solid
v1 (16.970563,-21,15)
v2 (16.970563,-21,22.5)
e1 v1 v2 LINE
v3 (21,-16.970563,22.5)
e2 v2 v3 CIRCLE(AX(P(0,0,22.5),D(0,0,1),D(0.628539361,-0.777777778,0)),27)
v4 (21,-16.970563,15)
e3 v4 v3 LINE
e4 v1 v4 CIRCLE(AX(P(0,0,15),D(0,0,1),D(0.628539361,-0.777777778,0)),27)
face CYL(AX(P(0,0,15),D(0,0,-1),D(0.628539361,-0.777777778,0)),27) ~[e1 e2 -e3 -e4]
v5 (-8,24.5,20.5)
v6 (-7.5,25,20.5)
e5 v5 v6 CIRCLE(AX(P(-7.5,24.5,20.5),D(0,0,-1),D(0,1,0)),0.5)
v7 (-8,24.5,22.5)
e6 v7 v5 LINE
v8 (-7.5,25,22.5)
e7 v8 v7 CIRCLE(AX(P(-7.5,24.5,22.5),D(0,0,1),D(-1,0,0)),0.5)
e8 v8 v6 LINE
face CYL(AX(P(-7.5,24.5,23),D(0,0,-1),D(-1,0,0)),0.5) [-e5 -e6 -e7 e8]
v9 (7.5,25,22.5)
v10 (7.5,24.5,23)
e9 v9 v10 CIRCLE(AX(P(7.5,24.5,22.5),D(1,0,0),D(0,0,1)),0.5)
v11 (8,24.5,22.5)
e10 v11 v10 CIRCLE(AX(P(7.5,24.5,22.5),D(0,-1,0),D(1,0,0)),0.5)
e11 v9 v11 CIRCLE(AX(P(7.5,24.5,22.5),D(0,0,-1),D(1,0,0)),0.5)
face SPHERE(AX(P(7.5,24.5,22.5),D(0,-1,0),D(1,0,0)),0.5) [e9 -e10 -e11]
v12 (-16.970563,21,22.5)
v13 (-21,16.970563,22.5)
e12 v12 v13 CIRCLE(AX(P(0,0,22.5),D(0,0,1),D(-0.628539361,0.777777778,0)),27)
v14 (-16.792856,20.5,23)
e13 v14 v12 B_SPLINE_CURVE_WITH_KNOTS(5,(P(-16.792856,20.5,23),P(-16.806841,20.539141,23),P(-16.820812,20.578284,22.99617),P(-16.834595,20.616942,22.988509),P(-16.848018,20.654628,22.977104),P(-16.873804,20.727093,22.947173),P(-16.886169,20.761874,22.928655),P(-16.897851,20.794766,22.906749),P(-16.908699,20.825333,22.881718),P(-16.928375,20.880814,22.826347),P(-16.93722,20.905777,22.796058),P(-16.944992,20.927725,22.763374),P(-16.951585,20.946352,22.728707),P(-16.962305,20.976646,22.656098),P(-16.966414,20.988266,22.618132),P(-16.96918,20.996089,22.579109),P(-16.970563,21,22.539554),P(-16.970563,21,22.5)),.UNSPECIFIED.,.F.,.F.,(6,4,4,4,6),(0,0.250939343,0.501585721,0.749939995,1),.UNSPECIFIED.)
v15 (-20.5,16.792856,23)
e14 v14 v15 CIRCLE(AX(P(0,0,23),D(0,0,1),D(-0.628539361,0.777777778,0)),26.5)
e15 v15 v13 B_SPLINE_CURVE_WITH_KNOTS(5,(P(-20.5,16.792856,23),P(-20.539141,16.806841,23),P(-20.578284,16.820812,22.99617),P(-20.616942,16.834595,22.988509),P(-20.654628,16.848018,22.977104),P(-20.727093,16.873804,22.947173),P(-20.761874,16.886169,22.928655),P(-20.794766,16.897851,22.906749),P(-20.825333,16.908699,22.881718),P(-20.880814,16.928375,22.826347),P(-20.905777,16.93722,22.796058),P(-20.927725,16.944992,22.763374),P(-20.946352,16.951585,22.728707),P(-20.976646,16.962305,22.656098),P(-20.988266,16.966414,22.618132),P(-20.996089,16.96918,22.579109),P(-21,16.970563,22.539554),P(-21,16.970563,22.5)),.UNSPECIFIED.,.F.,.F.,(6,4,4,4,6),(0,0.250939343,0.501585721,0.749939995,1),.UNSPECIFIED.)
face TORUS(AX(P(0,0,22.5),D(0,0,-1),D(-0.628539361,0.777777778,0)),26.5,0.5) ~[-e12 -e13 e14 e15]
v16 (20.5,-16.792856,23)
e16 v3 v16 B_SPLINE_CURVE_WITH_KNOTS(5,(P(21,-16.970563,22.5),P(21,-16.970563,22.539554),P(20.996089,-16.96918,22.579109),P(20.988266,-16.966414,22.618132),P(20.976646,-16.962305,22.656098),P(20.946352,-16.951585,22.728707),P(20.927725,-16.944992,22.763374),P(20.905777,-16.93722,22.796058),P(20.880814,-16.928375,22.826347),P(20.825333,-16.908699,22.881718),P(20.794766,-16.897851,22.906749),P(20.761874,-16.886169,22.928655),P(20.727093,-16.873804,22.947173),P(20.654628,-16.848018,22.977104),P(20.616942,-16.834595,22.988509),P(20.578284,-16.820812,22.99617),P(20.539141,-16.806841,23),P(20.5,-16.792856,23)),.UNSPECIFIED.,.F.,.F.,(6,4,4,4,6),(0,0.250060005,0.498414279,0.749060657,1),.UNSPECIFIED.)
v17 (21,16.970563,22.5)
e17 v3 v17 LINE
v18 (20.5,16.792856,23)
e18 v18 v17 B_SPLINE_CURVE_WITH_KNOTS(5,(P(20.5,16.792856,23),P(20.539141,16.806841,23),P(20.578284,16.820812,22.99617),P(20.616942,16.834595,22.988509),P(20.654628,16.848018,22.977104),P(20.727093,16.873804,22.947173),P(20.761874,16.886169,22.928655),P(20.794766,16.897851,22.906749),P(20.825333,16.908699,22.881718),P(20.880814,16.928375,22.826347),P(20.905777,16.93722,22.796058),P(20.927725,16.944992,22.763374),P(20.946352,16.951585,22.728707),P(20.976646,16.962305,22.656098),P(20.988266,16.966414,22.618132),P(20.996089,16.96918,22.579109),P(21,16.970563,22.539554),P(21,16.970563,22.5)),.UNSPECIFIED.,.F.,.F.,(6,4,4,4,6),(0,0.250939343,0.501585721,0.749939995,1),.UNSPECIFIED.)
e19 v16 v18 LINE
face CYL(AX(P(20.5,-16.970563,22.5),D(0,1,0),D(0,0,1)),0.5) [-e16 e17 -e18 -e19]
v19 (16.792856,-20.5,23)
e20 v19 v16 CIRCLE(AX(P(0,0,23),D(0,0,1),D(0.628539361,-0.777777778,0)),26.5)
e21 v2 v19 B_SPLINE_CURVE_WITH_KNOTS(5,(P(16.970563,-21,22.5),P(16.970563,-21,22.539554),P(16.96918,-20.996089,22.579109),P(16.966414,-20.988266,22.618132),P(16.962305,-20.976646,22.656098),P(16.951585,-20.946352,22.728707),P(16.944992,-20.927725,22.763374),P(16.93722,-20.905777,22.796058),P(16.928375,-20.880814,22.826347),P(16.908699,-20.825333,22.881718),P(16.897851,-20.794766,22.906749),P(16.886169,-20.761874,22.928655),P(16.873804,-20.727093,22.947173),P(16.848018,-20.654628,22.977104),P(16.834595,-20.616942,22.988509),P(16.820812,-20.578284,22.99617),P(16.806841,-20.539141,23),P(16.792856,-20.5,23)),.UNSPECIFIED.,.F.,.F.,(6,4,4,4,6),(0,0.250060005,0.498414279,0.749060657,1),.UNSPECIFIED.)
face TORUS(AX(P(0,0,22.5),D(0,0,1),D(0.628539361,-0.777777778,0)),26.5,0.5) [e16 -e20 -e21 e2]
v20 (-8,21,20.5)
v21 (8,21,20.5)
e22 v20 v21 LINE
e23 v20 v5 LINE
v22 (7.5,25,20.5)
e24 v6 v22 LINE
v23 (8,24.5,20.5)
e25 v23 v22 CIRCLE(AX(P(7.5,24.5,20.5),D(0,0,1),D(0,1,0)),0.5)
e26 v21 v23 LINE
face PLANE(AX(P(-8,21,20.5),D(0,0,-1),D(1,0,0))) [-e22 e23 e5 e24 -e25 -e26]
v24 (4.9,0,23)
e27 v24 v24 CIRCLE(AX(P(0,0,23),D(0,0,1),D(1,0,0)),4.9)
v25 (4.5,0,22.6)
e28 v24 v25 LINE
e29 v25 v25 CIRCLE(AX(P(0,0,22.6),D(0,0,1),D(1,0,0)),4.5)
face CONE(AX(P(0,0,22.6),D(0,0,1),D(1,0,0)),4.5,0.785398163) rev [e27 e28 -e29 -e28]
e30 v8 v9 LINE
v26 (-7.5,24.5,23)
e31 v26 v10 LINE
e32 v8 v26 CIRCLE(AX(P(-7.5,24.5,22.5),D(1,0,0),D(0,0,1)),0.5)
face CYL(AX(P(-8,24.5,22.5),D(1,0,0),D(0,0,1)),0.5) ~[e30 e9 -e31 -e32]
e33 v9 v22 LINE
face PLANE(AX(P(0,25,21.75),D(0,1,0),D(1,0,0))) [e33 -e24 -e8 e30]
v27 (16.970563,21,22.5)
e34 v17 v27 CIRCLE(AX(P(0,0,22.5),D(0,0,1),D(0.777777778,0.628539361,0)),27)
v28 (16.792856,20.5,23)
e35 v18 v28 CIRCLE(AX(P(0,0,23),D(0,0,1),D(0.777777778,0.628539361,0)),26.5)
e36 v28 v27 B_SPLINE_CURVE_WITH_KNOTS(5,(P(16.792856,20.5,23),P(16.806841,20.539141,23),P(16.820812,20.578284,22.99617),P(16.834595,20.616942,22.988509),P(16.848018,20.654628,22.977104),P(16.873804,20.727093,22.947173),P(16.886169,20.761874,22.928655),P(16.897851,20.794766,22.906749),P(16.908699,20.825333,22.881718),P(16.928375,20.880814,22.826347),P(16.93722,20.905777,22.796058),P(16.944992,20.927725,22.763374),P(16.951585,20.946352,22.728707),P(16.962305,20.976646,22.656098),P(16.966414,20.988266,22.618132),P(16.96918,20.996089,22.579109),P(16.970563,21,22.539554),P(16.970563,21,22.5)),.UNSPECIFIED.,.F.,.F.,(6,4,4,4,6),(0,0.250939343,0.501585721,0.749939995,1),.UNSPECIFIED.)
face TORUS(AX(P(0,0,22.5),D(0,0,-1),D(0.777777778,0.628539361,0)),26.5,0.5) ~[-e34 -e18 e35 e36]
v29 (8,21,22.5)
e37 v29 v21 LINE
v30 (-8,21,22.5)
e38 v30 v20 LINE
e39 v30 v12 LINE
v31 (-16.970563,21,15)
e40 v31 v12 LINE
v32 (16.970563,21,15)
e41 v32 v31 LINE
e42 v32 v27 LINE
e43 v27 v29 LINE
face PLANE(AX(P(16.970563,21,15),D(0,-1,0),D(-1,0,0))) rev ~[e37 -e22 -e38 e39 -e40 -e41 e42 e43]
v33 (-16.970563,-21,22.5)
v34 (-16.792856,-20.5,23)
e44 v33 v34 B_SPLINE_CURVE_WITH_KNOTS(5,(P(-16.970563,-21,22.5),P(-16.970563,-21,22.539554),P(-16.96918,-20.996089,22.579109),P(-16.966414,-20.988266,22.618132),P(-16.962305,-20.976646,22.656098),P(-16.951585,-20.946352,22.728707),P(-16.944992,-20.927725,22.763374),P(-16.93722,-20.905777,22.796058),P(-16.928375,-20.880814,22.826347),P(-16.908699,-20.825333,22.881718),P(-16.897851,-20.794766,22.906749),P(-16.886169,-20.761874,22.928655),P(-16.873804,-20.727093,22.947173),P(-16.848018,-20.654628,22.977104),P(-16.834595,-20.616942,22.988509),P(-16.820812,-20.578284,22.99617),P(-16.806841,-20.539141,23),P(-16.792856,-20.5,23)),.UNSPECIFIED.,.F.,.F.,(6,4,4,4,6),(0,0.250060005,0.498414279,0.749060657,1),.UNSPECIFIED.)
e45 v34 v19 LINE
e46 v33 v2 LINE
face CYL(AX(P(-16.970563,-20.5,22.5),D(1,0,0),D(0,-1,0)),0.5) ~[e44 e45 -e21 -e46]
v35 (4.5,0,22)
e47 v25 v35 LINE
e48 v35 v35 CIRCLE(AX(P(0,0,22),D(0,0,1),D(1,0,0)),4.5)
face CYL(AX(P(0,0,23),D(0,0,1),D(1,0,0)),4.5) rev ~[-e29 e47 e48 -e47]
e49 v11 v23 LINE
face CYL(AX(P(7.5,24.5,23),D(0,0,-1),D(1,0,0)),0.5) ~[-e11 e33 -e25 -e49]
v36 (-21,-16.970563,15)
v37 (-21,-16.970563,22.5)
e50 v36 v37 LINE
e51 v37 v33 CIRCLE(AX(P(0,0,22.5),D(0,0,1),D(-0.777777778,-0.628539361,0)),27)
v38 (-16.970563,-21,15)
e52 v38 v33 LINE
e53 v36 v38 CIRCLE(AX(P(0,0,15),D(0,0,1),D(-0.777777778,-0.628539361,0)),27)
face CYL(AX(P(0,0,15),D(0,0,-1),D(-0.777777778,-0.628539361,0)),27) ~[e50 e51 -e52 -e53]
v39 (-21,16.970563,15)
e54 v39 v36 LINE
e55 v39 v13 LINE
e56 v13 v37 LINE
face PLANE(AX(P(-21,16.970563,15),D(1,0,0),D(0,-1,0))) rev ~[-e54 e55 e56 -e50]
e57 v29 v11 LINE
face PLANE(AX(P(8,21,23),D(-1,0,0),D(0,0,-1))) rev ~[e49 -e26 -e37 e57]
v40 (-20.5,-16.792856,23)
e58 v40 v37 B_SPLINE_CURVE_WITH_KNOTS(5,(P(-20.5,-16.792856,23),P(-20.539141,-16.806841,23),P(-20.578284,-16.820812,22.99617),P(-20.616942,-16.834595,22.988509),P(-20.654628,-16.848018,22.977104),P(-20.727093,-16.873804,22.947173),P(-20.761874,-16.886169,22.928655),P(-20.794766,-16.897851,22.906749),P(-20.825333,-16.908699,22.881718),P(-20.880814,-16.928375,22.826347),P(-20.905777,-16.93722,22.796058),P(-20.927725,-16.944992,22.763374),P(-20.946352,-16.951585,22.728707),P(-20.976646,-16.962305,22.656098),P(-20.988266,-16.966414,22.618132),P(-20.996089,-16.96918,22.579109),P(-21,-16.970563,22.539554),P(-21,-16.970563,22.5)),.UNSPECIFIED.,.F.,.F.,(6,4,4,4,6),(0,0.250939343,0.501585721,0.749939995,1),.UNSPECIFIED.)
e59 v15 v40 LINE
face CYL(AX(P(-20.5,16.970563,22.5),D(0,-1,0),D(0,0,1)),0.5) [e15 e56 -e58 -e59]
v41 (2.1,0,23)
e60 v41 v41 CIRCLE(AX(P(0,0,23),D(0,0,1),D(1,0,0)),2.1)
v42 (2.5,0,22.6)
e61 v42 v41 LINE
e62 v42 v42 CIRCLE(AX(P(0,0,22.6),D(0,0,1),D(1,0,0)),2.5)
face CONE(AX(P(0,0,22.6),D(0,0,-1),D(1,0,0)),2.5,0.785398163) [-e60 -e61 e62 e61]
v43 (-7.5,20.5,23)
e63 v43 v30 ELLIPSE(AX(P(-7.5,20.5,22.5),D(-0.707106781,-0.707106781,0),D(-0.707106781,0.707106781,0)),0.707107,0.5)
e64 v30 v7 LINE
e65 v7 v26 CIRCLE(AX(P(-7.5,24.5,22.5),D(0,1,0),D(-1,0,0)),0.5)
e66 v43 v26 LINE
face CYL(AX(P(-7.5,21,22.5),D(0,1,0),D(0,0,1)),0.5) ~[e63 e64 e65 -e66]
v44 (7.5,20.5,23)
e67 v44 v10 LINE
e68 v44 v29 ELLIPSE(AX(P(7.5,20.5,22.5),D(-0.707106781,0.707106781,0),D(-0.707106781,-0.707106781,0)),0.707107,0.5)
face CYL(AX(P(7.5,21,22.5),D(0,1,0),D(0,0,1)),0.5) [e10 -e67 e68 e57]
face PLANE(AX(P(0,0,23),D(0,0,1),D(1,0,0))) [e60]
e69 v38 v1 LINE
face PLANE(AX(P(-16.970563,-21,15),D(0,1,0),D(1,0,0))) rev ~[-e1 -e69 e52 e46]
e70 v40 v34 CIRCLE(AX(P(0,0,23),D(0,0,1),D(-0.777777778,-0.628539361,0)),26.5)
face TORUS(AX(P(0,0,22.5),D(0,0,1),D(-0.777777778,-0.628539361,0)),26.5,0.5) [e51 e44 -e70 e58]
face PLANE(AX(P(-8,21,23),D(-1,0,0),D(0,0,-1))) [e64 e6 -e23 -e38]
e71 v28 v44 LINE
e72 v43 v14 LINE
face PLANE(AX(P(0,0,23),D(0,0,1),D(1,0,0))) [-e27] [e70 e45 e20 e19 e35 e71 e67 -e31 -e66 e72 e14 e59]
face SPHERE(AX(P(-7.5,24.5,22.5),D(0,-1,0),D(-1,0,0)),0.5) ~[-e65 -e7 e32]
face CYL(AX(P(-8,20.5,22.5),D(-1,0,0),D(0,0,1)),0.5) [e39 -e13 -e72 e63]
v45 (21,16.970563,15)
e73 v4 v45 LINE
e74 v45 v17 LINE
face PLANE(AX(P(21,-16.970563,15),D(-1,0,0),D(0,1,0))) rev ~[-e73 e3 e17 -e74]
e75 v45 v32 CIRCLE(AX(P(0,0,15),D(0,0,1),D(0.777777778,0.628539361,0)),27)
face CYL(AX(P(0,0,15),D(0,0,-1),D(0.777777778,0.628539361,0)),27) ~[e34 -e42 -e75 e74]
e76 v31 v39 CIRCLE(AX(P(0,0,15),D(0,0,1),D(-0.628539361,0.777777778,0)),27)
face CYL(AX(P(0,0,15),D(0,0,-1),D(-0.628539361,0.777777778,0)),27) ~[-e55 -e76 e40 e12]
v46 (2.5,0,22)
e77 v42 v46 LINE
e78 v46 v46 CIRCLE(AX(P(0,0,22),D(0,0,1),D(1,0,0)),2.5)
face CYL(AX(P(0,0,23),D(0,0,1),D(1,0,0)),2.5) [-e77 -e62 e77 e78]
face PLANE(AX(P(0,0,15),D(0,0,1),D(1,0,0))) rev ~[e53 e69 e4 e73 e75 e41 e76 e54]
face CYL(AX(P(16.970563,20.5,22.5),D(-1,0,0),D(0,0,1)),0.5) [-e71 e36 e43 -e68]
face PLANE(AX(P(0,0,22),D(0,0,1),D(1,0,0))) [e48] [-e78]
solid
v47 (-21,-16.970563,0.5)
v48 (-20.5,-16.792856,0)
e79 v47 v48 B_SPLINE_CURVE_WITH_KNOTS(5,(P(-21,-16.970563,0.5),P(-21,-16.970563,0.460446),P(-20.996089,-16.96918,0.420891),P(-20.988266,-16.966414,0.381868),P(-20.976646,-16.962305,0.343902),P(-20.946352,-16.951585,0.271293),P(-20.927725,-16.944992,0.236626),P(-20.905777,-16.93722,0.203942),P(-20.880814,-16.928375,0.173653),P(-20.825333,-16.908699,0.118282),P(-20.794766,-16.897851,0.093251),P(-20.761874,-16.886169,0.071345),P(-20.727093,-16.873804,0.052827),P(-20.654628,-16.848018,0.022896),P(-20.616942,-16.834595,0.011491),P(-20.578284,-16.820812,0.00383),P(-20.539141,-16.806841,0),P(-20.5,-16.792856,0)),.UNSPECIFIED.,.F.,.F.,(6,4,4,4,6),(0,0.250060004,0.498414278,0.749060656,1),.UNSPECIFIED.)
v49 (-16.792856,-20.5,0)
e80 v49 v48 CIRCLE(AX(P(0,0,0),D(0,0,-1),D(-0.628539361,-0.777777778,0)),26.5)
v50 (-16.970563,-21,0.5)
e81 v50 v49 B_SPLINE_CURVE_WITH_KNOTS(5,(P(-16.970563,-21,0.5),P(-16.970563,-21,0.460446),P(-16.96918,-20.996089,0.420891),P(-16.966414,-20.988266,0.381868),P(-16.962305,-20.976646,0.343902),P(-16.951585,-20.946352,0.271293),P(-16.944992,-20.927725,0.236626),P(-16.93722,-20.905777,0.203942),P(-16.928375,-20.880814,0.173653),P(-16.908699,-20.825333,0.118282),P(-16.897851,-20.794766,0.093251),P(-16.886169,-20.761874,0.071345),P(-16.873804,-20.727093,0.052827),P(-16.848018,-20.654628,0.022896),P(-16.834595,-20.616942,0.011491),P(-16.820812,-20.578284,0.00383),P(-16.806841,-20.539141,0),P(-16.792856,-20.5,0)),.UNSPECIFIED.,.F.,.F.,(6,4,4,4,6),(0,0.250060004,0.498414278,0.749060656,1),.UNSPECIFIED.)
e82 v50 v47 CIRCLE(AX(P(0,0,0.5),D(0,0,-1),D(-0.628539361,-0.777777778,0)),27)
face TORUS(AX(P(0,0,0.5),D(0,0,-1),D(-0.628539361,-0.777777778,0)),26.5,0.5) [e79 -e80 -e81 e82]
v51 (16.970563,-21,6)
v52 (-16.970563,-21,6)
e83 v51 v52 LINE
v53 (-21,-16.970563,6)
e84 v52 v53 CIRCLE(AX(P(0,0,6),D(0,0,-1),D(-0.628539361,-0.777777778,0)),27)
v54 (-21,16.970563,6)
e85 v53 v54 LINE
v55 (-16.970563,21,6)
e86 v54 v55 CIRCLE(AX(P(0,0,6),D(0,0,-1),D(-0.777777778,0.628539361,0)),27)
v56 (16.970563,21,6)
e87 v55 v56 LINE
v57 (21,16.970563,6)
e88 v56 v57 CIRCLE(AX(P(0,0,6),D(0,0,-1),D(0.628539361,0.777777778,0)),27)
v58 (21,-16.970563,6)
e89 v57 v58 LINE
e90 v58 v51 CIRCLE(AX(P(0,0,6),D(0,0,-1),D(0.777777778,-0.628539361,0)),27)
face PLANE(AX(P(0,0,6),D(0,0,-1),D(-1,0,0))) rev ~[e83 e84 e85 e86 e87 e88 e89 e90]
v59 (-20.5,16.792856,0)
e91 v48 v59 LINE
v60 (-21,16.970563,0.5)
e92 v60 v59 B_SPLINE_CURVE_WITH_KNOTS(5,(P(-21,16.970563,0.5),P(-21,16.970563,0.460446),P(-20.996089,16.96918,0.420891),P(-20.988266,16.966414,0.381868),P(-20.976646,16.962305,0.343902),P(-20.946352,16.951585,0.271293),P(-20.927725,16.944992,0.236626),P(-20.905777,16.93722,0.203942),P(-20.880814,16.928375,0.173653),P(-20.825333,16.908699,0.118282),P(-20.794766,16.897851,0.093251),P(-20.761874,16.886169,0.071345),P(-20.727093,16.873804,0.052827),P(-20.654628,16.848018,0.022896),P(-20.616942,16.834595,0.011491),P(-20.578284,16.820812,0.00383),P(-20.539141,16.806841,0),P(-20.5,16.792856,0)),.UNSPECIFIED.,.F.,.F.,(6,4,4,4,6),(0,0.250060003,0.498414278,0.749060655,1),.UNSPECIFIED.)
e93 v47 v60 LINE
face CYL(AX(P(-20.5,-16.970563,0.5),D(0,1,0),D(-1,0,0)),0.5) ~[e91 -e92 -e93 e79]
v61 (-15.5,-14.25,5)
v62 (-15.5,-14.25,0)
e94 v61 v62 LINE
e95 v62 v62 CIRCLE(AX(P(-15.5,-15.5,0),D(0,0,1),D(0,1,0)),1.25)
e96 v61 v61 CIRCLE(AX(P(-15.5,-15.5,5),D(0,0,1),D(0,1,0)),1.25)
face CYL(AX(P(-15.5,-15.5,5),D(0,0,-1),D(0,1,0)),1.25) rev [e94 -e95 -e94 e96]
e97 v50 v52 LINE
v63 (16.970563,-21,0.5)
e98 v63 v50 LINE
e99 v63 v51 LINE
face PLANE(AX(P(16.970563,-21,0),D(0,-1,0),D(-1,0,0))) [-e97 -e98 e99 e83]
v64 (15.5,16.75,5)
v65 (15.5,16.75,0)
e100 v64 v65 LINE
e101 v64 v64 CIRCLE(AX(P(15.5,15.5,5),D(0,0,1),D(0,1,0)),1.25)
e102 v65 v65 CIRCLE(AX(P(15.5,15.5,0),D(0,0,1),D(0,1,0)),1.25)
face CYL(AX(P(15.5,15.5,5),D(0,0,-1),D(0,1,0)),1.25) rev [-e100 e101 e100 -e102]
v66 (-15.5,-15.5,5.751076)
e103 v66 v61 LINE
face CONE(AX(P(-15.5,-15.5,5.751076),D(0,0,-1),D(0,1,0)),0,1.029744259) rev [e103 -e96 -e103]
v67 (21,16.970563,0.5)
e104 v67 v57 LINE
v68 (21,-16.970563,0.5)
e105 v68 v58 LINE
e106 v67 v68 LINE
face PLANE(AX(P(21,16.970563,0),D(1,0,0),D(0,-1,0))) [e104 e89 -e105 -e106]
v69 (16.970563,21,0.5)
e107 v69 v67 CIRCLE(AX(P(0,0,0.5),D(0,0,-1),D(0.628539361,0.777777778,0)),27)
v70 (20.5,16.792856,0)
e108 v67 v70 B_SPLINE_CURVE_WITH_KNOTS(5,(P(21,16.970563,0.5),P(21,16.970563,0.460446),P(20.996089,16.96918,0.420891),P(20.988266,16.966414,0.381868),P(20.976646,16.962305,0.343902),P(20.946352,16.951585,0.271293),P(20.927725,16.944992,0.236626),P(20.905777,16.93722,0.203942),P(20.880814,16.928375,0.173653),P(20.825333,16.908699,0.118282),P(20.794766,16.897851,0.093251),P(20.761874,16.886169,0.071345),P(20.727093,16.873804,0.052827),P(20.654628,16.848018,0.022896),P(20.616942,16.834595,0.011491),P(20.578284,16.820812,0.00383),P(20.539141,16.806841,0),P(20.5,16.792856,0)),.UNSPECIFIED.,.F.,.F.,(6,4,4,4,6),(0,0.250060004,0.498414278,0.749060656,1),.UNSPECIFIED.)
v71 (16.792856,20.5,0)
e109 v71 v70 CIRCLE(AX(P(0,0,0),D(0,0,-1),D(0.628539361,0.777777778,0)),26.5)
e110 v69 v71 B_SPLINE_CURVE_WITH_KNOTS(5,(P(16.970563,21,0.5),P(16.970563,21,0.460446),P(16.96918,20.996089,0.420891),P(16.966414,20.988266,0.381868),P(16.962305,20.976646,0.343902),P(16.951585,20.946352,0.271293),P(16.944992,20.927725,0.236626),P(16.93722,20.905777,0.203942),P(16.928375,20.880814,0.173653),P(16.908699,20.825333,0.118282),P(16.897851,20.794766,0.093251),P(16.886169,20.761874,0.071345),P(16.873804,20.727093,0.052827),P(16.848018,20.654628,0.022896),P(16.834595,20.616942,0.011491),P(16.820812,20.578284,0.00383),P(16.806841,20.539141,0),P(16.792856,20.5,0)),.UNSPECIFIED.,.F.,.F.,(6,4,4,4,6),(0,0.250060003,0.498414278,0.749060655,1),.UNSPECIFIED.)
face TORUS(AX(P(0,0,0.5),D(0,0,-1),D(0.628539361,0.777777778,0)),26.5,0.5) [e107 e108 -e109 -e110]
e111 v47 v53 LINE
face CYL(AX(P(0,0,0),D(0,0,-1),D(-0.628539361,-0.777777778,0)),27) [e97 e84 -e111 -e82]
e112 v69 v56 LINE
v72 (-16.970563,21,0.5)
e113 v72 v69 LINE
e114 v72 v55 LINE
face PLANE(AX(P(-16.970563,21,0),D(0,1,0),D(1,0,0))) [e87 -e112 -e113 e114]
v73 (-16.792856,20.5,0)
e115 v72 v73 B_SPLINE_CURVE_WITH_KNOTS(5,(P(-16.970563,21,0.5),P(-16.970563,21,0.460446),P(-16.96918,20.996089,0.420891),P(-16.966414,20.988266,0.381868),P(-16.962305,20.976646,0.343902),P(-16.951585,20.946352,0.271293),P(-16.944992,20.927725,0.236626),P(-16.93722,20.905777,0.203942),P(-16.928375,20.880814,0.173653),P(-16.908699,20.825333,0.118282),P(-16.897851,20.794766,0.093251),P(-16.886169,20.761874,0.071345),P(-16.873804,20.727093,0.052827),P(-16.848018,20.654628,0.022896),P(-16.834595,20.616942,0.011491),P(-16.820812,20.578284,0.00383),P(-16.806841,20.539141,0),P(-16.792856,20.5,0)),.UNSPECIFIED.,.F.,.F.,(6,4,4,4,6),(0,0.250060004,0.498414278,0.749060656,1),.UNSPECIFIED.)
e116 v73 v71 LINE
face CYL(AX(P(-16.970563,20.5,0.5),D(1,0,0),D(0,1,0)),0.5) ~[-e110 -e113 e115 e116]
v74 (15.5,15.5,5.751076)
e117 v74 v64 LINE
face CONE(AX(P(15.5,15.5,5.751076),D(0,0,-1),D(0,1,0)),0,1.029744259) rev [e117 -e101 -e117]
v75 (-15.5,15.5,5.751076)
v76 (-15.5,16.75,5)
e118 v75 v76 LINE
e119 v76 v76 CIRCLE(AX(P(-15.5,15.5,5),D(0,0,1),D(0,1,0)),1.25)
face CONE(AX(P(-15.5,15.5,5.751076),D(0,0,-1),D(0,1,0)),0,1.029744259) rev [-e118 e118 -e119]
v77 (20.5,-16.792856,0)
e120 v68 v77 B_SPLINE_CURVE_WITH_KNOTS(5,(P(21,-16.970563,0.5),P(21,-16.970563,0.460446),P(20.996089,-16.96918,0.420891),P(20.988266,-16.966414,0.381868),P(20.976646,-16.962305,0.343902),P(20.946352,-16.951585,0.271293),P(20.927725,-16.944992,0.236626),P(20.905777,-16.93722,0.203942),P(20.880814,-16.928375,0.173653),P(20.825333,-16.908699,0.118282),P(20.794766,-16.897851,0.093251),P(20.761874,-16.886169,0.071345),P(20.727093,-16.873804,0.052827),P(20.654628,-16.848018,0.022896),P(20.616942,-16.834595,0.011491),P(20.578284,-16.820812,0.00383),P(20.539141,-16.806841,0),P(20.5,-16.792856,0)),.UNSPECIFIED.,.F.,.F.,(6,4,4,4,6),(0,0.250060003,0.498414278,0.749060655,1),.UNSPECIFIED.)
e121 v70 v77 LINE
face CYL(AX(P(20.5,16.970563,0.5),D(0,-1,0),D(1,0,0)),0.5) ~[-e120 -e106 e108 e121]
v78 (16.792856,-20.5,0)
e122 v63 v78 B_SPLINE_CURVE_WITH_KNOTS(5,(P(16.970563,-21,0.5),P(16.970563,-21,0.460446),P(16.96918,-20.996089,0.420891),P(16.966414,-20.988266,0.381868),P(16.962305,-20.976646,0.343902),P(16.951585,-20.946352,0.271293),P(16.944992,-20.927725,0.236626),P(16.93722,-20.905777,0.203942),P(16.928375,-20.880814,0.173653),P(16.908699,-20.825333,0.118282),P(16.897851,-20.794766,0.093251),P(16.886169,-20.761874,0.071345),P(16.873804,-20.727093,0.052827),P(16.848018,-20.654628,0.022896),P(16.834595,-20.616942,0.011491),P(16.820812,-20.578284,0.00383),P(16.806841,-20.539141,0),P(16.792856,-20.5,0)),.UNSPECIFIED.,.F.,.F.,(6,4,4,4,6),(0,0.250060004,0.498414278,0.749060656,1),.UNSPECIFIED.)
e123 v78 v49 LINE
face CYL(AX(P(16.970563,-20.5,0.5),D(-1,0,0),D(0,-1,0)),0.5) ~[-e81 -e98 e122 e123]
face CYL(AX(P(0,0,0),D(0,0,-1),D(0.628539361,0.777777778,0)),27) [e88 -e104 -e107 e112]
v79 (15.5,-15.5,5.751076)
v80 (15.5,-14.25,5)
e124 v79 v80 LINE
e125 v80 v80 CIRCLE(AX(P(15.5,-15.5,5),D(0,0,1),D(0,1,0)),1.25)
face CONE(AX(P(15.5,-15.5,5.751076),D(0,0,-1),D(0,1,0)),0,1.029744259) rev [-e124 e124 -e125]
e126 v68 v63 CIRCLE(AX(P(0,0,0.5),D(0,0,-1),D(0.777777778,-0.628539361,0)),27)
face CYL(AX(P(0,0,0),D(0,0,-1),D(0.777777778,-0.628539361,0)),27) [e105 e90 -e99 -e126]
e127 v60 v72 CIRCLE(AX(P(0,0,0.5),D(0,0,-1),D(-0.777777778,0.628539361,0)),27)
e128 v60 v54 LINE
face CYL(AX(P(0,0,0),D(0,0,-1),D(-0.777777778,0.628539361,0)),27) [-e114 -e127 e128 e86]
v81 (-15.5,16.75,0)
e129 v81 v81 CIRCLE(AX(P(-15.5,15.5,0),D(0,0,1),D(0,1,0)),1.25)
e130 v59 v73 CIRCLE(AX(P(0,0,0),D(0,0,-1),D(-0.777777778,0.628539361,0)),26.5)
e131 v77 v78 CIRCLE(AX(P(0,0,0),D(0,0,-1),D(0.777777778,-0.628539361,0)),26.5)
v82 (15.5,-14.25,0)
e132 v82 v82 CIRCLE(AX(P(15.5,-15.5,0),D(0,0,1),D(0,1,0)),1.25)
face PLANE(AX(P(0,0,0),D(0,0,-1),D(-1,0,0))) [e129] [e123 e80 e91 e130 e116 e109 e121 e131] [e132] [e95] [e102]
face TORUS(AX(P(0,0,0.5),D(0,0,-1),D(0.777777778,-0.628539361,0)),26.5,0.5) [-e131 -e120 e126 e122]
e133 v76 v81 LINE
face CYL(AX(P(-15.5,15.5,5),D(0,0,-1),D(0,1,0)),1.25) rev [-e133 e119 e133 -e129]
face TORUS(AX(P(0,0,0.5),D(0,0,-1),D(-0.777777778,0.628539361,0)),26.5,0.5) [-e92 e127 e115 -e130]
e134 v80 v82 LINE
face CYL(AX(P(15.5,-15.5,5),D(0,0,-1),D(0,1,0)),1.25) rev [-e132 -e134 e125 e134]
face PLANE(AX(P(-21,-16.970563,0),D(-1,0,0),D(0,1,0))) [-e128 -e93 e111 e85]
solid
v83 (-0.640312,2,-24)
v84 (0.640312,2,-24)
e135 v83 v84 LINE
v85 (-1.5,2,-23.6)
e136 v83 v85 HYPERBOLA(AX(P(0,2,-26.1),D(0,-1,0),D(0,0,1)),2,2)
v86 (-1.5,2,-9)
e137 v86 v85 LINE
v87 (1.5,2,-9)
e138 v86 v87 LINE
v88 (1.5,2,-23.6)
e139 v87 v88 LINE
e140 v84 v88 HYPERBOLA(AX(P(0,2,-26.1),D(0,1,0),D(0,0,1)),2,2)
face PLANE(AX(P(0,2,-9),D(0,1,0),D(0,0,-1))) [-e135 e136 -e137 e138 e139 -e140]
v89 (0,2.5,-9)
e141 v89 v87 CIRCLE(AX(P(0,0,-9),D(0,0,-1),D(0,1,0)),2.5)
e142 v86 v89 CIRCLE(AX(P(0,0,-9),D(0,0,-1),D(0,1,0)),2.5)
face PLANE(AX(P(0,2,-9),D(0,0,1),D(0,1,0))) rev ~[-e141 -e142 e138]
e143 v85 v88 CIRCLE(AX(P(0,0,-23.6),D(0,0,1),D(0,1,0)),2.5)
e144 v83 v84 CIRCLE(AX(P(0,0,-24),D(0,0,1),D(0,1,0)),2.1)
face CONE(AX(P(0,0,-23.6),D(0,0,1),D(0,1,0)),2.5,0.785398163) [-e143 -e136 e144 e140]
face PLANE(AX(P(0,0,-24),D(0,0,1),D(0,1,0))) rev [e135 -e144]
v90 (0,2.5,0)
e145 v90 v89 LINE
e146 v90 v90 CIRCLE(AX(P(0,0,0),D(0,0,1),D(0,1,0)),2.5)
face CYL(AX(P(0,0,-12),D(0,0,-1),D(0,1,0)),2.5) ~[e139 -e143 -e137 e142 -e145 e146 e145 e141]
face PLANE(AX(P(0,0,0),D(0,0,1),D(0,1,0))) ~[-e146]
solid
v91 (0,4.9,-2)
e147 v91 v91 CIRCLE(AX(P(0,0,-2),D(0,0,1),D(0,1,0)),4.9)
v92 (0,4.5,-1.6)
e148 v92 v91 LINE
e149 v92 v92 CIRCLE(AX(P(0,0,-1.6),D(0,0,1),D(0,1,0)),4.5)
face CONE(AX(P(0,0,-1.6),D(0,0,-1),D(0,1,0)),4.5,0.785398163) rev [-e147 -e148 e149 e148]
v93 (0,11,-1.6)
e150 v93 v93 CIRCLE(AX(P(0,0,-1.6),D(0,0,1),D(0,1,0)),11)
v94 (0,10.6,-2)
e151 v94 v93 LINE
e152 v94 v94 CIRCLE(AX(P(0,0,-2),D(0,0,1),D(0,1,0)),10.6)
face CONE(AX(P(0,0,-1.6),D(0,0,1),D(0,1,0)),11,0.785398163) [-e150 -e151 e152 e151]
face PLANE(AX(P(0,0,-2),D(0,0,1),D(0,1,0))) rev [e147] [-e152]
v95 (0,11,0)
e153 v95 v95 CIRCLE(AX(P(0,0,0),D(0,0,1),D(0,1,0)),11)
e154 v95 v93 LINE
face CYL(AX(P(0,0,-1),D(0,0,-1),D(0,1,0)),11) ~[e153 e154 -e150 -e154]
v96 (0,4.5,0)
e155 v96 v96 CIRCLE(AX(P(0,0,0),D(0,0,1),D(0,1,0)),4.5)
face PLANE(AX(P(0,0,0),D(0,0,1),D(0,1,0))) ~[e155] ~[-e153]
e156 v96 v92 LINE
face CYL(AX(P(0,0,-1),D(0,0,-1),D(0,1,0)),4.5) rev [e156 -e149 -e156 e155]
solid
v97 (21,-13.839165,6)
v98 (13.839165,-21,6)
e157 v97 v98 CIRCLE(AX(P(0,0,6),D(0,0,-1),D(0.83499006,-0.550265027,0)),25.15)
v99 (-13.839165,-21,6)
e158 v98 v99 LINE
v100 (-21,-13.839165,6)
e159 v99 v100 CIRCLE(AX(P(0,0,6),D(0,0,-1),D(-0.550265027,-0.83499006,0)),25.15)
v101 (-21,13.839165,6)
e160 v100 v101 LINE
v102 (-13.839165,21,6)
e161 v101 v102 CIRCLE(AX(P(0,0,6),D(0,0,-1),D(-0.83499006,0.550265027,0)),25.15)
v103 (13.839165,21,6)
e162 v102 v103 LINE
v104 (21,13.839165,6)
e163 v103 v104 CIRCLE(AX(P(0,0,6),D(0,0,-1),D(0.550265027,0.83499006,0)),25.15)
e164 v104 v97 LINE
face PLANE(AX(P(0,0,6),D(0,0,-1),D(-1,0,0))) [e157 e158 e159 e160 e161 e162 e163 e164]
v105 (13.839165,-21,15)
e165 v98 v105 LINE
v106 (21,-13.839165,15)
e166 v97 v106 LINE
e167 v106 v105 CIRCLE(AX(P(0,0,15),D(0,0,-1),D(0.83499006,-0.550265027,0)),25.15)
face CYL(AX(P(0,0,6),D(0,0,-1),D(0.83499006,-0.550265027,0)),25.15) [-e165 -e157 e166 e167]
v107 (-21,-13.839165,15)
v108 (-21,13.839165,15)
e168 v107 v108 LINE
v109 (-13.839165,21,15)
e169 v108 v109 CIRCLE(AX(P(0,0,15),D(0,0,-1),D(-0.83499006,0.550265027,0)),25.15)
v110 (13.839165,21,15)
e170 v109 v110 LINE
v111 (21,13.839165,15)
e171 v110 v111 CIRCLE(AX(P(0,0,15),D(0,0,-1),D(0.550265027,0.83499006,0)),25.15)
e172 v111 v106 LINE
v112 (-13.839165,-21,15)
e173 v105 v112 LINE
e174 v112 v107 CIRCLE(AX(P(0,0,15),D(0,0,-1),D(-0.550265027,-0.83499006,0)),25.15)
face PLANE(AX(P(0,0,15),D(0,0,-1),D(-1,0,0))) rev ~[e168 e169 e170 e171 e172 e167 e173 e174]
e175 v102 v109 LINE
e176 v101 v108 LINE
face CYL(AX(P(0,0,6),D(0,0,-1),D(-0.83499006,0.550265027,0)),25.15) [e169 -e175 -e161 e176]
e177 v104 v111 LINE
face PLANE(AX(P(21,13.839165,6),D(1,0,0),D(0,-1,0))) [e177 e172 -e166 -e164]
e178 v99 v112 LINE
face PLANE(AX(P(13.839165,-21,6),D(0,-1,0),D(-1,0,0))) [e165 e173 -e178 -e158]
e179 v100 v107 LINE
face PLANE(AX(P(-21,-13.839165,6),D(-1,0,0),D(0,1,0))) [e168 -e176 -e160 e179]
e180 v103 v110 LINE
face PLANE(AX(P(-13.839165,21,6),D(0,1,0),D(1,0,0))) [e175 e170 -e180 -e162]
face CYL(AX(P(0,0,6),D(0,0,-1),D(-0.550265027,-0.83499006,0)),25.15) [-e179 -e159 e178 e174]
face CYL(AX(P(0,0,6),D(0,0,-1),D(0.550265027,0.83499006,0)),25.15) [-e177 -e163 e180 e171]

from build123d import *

# Parameters (mm, degrees)
BOSS_EXTRU_1_DEPTH           = 6
BOSS_EXTRU_2_DEPTH           = 9
BOSS_EXTRU_3_DEPTH           = 8
ESQUISSE4_W                  = 16
ESQUISSE4_H                  = 2.5
BOSS_EXTRU_4_DEPTH           = 4
ESQUISSE5_W                  = 2
ESQUISSE5_H                  = 6.5
ESQUISSE5_W_2                = 24
ESQUISSE5_H_2                = 2.5
CONG_1_R                     = 0.5
CONG_2_R                     = 0.5
CHANFREIN1_SIZE              = 0.4
CHANFREIN2_SIZE              = 0.4
ESQUISSE6_W                  = 15
ESQUISSE6_H                  = 0.5
ENL_V_MAT_EXTRU_1_DEPTH      = 22.0000001
ENL_V_MAT_EXTRU_1_DEPTH_BACK = 22.0000001
ESQUISSE7_R                  = 4.5
ESQUISSE7_R_2                = 2.5
ENL_V_MAT_EXTRU_2_DEPTH      = 1
CHANFREIN3_SIZE              = 0.4
TROU_TARAUD_M31_AT_2_COUNT   = 2
TROU_TARAUD_M31_AT_2_PITCH   = 31
TROU_TARAUD_M31_AT_3_COUNT   = 2
TROU_TARAUD_M31_AT_3_PITCH   = 43.840620434
TROU_TARAUD_M31_AT_4_COUNT   = 2
TROU_TARAUD_M31_AT_4_PITCH   = 31


with BuildPart() as part:
    # Esquisse1 → Boss.-Extru.1 (new body)
    with BuildSketch(Plane.XY):
        with BuildLine():
            Line((21, 16.970562748), (21, -16.970562748))
            ThreePointArc((21, -16.970562748), (19.091883092, -19.091883092), (16.970562748, -21))
            Line((16.970562748, -21), (-16.970562748, -21))
            ThreePointArc((-16.970562748, -21), (-19.091883092, -19.091883092), (-21, -16.970562748))
            Line((-21, -16.970562748), (-21, 16.970562748))
            ThreePointArc((-21, 16.970562748), (-19.091883092, 19.091883092), (-16.970562748, 21))
            Line((-16.970562748, 21), (16.970562748, 21))
            ThreePointArc((16.970562748, 21), (19.091883092, 19.091883092), (21, 16.970562748))
        make_face()
    extrude(amount=BOSS_EXTRU_1_DEPTH)

    # Congé2
    cong_2_edges = [part.edges().sort_by_distance(p)[0] for p in [
        (0, 21, 0),
        (19.091883092, 19.091883092, 0),
        (21, 0, 0),
        (19.091883092, -19.091883092, 0),
        (0, -21, 0),
        (-19.091883092, -19.091883092, 0),
        (-21, 0, 0),
        (-19.091883092, 19.091883092, 0),
    ]]
    fillet(cong_2_edges, radius=CONG_2_R)

    # Esquisse9 → Trou taraudé M31 (revolve, cut)
    with BuildSketch(Plane(origin=(15.5, -15.5, 0), x_dir=(0, 1, 0), z_dir=(1, 0, 0))):
        Polygon((0, 0), (0, 5.751075774), (1.25, 5), (1.25, 0), align=None)
    trou_taraud_m31 = revolve(axis=Axis((15.5, -15.5, -6.35), (0, 0, 1)), mode=Mode.SUBTRACT)

    # Trou taraudé M31 at 2: Trou taraudé M31 ×2
    with Locations(*[(0, i * TROU_TARAUD_M31_AT_2_PITCH, 0) for i in range(1, TROU_TARAUD_M31_AT_2_COUNT)]):
        add(trou_taraud_m31, mode=Mode.SUBTRACT)

    # Trou taraudé M31 at 3: Trou taraudé M31 ×2
    with Locations(*[Vector(-0.707106781, 0.707106781, 0) * (i * TROU_TARAUD_M31_AT_3_PITCH) for i in range(1, TROU_TARAUD_M31_AT_3_COUNT)]):
        add(trou_taraud_m31, mode=Mode.SUBTRACT)

    # Trou taraudé M31 at 4: Trou taraudé M31 ×2
    with Locations(*[(-i * TROU_TARAUD_M31_AT_4_PITCH, 0, 0) for i in range(1, TROU_TARAUD_M31_AT_4_COUNT)]):
        add(trou_taraud_m31, mode=Mode.SUBTRACT)


with BuildPart() as body_2:
    # Esquisse2 → Boss.-Extru.2 (new body)
    with BuildSketch(Plane.XY.offset(6)):
        with BuildLine():
            Line((-13.839165437, 21), (13.839165437, 21))
            ThreePointArc((13.839165437, 21), (17.783735547, 17.783735547), (21, 13.839165437))
            Line((21, 13.839165437), (21, -13.839165437))
            ThreePointArc((21, -13.839165437), (17.783735547, -17.783735547), (13.839165437, -21))
            Line((13.839165437, -21), (-13.839165437, -21))
            ThreePointArc((-13.839165437, -21), (-17.783735547, -17.783735547), (-21, -13.839165437))
            Line((-21, -13.839165437), (-21, 13.839165437))
            ThreePointArc((-21, 13.839165437), (-17.783735547, 17.783735547), (-13.839165437, 21))
        make_face()
    extrude(amount=BOSS_EXTRU_2_DEPTH)


with BuildPart() as body_3:
    # Esquisse3 → Boss.-Extru.3 (new body)
    with BuildSketch(Plane.XY.offset(15)):
        with BuildLine():
            Line((-16.970562748, -21), (16.970562748, -21))
            ThreePointArc((16.970562748, -21), (19.091883092, -19.091883092), (21, -16.970562748))
            Line((21, -16.970562748), (21, 16.970562748))
            ThreePointArc((21, 16.970562748), (19.091883092, 19.091883092), (16.970562748, 21))
            Line((16.970562748, 21), (-16.970562748, 21))
            ThreePointArc((-16.970562748, 21), (-19.091883092, 19.091883092), (-21, 16.970562748))
            Line((-21, 16.970562748), (-21, -16.970562748))
            ThreePointArc((-21, -16.970562748), (-19.091883092, -19.091883092), (-16.970562748, -21))
        make_face()
    extrude(amount=BOSS_EXTRU_3_DEPTH)

    # Esquisse4 → Boss.-Extru.4 (add)
    with BuildSketch(Plane(origin=(0, 21, 0), x_dir=(1, 0, 0), z_dir=(0, 1, 0))):
        with Locations((0, -21.75)):
            Rectangle(ESQUISSE4_W, ESQUISSE4_H)
    extrude(amount=BOSS_EXTRU_4_DEPTH)

    # Congé1
    cong_1_edges = [body_3.edges().sort_by_distance(p)[0] for p in [
        (19.091883092, -19.091883092, 23),
        (21, 0, 23),
        (19.091883092, 19.091883092, 23),
        (12.485281374, 21, 23),
        (-19.091883092, 19.091883092, 23),
        (-21, 0, 23),
        (-12.485281374, 21, 23),
        (8, 23, 23),
        (-8, 23, 23),
        (8, 25, 21.75),
        (-8, 25, 21.75),
        (0, 25, 23),
        (-19.091883092, -19.091883092, 23),
        (0, -21, 23),
    ]]
    fillet(cong_1_edges, radius=CONG_1_R)

    # Esquisse7 → Enlèv. mat.-Extru.2 (cut)
    with BuildSketch(Plane.XY.offset(23)):
        Circle(ESQUISSE7_R)
        Circle(ESQUISSE7_R_2, mode=Mode.SUBTRACT)
    extrude(amount=-ENL_V_MAT_EXTRU_2_DEPTH, mode=Mode.SUBTRACT)

    # Chanfrein3
    chanfrein3_edges = [body_3.edges().sort_by_distance(p)[0] for p in [
        (-4.5, 0, 23),
        (-2.5, 0, 23),
    ]]
    chamfer(chanfrein3_edges, length=CHANFREIN3_SIZE)


with BuildPart() as body_4:
    # Esquisse5 → Révolution1 (revolve)
    with BuildSketch(Plane(origin=(0, 0, 0), x_dir=(0, 0, -1), z_dir=(1, 0, 0))):
        with Locations((1, 7.75)):
            Rectangle(ESQUISSE5_W, ESQUISSE5_H)
        with Locations((12, 1.25)):
            Rectangle(ESQUISSE5_W_2, ESQUISSE5_H_2)
    revolve(axis=Axis((0, 0, 0), (0, 0, 1)))

    # Chanfrein1
    chanfrein1_edges = [body_4.edges().sort_by_distance(p)[0] for p in [
        (0, -2.5, -24),
    ]]
    chamfer(chanfrein1_edges, length=CHANFREIN1_SIZE)

    # Chanfrein2
    chanfrein2_edges = [body_4.edges().sort_by_distance(p)[0] for p in [
        (0, -11, -2),
        (0, -4.5, -2),
    ]]
    chamfer(chanfrein2_edges, length=CHANFREIN2_SIZE)

    # Esquisse6 → Enlèv. mat.-Extru.1 (cut, two sides)
    with BuildSketch(Plane(origin=(0, 0, 0), x_dir=(0, 0, -1), z_dir=(1, 0, 0))) as enl_v_mat_extru_1_sk:
        with Locations((16.5, 2.25)):
            Rectangle(ESQUISSE6_W, ESQUISSE6_H)
    extrude(amount=ENL_V_MAT_EXTRU_1_DEPTH, mode=Mode.SUBTRACT)
    extrude(enl_v_mat_extru_1_sk.sketch, amount=-ENL_V_MAT_EXTRU_1_DEPTH_BACK, mode=Mode.SUBTRACT)


solid = Compound([part.part, body_2.part, body_3.part, body_4.part])
